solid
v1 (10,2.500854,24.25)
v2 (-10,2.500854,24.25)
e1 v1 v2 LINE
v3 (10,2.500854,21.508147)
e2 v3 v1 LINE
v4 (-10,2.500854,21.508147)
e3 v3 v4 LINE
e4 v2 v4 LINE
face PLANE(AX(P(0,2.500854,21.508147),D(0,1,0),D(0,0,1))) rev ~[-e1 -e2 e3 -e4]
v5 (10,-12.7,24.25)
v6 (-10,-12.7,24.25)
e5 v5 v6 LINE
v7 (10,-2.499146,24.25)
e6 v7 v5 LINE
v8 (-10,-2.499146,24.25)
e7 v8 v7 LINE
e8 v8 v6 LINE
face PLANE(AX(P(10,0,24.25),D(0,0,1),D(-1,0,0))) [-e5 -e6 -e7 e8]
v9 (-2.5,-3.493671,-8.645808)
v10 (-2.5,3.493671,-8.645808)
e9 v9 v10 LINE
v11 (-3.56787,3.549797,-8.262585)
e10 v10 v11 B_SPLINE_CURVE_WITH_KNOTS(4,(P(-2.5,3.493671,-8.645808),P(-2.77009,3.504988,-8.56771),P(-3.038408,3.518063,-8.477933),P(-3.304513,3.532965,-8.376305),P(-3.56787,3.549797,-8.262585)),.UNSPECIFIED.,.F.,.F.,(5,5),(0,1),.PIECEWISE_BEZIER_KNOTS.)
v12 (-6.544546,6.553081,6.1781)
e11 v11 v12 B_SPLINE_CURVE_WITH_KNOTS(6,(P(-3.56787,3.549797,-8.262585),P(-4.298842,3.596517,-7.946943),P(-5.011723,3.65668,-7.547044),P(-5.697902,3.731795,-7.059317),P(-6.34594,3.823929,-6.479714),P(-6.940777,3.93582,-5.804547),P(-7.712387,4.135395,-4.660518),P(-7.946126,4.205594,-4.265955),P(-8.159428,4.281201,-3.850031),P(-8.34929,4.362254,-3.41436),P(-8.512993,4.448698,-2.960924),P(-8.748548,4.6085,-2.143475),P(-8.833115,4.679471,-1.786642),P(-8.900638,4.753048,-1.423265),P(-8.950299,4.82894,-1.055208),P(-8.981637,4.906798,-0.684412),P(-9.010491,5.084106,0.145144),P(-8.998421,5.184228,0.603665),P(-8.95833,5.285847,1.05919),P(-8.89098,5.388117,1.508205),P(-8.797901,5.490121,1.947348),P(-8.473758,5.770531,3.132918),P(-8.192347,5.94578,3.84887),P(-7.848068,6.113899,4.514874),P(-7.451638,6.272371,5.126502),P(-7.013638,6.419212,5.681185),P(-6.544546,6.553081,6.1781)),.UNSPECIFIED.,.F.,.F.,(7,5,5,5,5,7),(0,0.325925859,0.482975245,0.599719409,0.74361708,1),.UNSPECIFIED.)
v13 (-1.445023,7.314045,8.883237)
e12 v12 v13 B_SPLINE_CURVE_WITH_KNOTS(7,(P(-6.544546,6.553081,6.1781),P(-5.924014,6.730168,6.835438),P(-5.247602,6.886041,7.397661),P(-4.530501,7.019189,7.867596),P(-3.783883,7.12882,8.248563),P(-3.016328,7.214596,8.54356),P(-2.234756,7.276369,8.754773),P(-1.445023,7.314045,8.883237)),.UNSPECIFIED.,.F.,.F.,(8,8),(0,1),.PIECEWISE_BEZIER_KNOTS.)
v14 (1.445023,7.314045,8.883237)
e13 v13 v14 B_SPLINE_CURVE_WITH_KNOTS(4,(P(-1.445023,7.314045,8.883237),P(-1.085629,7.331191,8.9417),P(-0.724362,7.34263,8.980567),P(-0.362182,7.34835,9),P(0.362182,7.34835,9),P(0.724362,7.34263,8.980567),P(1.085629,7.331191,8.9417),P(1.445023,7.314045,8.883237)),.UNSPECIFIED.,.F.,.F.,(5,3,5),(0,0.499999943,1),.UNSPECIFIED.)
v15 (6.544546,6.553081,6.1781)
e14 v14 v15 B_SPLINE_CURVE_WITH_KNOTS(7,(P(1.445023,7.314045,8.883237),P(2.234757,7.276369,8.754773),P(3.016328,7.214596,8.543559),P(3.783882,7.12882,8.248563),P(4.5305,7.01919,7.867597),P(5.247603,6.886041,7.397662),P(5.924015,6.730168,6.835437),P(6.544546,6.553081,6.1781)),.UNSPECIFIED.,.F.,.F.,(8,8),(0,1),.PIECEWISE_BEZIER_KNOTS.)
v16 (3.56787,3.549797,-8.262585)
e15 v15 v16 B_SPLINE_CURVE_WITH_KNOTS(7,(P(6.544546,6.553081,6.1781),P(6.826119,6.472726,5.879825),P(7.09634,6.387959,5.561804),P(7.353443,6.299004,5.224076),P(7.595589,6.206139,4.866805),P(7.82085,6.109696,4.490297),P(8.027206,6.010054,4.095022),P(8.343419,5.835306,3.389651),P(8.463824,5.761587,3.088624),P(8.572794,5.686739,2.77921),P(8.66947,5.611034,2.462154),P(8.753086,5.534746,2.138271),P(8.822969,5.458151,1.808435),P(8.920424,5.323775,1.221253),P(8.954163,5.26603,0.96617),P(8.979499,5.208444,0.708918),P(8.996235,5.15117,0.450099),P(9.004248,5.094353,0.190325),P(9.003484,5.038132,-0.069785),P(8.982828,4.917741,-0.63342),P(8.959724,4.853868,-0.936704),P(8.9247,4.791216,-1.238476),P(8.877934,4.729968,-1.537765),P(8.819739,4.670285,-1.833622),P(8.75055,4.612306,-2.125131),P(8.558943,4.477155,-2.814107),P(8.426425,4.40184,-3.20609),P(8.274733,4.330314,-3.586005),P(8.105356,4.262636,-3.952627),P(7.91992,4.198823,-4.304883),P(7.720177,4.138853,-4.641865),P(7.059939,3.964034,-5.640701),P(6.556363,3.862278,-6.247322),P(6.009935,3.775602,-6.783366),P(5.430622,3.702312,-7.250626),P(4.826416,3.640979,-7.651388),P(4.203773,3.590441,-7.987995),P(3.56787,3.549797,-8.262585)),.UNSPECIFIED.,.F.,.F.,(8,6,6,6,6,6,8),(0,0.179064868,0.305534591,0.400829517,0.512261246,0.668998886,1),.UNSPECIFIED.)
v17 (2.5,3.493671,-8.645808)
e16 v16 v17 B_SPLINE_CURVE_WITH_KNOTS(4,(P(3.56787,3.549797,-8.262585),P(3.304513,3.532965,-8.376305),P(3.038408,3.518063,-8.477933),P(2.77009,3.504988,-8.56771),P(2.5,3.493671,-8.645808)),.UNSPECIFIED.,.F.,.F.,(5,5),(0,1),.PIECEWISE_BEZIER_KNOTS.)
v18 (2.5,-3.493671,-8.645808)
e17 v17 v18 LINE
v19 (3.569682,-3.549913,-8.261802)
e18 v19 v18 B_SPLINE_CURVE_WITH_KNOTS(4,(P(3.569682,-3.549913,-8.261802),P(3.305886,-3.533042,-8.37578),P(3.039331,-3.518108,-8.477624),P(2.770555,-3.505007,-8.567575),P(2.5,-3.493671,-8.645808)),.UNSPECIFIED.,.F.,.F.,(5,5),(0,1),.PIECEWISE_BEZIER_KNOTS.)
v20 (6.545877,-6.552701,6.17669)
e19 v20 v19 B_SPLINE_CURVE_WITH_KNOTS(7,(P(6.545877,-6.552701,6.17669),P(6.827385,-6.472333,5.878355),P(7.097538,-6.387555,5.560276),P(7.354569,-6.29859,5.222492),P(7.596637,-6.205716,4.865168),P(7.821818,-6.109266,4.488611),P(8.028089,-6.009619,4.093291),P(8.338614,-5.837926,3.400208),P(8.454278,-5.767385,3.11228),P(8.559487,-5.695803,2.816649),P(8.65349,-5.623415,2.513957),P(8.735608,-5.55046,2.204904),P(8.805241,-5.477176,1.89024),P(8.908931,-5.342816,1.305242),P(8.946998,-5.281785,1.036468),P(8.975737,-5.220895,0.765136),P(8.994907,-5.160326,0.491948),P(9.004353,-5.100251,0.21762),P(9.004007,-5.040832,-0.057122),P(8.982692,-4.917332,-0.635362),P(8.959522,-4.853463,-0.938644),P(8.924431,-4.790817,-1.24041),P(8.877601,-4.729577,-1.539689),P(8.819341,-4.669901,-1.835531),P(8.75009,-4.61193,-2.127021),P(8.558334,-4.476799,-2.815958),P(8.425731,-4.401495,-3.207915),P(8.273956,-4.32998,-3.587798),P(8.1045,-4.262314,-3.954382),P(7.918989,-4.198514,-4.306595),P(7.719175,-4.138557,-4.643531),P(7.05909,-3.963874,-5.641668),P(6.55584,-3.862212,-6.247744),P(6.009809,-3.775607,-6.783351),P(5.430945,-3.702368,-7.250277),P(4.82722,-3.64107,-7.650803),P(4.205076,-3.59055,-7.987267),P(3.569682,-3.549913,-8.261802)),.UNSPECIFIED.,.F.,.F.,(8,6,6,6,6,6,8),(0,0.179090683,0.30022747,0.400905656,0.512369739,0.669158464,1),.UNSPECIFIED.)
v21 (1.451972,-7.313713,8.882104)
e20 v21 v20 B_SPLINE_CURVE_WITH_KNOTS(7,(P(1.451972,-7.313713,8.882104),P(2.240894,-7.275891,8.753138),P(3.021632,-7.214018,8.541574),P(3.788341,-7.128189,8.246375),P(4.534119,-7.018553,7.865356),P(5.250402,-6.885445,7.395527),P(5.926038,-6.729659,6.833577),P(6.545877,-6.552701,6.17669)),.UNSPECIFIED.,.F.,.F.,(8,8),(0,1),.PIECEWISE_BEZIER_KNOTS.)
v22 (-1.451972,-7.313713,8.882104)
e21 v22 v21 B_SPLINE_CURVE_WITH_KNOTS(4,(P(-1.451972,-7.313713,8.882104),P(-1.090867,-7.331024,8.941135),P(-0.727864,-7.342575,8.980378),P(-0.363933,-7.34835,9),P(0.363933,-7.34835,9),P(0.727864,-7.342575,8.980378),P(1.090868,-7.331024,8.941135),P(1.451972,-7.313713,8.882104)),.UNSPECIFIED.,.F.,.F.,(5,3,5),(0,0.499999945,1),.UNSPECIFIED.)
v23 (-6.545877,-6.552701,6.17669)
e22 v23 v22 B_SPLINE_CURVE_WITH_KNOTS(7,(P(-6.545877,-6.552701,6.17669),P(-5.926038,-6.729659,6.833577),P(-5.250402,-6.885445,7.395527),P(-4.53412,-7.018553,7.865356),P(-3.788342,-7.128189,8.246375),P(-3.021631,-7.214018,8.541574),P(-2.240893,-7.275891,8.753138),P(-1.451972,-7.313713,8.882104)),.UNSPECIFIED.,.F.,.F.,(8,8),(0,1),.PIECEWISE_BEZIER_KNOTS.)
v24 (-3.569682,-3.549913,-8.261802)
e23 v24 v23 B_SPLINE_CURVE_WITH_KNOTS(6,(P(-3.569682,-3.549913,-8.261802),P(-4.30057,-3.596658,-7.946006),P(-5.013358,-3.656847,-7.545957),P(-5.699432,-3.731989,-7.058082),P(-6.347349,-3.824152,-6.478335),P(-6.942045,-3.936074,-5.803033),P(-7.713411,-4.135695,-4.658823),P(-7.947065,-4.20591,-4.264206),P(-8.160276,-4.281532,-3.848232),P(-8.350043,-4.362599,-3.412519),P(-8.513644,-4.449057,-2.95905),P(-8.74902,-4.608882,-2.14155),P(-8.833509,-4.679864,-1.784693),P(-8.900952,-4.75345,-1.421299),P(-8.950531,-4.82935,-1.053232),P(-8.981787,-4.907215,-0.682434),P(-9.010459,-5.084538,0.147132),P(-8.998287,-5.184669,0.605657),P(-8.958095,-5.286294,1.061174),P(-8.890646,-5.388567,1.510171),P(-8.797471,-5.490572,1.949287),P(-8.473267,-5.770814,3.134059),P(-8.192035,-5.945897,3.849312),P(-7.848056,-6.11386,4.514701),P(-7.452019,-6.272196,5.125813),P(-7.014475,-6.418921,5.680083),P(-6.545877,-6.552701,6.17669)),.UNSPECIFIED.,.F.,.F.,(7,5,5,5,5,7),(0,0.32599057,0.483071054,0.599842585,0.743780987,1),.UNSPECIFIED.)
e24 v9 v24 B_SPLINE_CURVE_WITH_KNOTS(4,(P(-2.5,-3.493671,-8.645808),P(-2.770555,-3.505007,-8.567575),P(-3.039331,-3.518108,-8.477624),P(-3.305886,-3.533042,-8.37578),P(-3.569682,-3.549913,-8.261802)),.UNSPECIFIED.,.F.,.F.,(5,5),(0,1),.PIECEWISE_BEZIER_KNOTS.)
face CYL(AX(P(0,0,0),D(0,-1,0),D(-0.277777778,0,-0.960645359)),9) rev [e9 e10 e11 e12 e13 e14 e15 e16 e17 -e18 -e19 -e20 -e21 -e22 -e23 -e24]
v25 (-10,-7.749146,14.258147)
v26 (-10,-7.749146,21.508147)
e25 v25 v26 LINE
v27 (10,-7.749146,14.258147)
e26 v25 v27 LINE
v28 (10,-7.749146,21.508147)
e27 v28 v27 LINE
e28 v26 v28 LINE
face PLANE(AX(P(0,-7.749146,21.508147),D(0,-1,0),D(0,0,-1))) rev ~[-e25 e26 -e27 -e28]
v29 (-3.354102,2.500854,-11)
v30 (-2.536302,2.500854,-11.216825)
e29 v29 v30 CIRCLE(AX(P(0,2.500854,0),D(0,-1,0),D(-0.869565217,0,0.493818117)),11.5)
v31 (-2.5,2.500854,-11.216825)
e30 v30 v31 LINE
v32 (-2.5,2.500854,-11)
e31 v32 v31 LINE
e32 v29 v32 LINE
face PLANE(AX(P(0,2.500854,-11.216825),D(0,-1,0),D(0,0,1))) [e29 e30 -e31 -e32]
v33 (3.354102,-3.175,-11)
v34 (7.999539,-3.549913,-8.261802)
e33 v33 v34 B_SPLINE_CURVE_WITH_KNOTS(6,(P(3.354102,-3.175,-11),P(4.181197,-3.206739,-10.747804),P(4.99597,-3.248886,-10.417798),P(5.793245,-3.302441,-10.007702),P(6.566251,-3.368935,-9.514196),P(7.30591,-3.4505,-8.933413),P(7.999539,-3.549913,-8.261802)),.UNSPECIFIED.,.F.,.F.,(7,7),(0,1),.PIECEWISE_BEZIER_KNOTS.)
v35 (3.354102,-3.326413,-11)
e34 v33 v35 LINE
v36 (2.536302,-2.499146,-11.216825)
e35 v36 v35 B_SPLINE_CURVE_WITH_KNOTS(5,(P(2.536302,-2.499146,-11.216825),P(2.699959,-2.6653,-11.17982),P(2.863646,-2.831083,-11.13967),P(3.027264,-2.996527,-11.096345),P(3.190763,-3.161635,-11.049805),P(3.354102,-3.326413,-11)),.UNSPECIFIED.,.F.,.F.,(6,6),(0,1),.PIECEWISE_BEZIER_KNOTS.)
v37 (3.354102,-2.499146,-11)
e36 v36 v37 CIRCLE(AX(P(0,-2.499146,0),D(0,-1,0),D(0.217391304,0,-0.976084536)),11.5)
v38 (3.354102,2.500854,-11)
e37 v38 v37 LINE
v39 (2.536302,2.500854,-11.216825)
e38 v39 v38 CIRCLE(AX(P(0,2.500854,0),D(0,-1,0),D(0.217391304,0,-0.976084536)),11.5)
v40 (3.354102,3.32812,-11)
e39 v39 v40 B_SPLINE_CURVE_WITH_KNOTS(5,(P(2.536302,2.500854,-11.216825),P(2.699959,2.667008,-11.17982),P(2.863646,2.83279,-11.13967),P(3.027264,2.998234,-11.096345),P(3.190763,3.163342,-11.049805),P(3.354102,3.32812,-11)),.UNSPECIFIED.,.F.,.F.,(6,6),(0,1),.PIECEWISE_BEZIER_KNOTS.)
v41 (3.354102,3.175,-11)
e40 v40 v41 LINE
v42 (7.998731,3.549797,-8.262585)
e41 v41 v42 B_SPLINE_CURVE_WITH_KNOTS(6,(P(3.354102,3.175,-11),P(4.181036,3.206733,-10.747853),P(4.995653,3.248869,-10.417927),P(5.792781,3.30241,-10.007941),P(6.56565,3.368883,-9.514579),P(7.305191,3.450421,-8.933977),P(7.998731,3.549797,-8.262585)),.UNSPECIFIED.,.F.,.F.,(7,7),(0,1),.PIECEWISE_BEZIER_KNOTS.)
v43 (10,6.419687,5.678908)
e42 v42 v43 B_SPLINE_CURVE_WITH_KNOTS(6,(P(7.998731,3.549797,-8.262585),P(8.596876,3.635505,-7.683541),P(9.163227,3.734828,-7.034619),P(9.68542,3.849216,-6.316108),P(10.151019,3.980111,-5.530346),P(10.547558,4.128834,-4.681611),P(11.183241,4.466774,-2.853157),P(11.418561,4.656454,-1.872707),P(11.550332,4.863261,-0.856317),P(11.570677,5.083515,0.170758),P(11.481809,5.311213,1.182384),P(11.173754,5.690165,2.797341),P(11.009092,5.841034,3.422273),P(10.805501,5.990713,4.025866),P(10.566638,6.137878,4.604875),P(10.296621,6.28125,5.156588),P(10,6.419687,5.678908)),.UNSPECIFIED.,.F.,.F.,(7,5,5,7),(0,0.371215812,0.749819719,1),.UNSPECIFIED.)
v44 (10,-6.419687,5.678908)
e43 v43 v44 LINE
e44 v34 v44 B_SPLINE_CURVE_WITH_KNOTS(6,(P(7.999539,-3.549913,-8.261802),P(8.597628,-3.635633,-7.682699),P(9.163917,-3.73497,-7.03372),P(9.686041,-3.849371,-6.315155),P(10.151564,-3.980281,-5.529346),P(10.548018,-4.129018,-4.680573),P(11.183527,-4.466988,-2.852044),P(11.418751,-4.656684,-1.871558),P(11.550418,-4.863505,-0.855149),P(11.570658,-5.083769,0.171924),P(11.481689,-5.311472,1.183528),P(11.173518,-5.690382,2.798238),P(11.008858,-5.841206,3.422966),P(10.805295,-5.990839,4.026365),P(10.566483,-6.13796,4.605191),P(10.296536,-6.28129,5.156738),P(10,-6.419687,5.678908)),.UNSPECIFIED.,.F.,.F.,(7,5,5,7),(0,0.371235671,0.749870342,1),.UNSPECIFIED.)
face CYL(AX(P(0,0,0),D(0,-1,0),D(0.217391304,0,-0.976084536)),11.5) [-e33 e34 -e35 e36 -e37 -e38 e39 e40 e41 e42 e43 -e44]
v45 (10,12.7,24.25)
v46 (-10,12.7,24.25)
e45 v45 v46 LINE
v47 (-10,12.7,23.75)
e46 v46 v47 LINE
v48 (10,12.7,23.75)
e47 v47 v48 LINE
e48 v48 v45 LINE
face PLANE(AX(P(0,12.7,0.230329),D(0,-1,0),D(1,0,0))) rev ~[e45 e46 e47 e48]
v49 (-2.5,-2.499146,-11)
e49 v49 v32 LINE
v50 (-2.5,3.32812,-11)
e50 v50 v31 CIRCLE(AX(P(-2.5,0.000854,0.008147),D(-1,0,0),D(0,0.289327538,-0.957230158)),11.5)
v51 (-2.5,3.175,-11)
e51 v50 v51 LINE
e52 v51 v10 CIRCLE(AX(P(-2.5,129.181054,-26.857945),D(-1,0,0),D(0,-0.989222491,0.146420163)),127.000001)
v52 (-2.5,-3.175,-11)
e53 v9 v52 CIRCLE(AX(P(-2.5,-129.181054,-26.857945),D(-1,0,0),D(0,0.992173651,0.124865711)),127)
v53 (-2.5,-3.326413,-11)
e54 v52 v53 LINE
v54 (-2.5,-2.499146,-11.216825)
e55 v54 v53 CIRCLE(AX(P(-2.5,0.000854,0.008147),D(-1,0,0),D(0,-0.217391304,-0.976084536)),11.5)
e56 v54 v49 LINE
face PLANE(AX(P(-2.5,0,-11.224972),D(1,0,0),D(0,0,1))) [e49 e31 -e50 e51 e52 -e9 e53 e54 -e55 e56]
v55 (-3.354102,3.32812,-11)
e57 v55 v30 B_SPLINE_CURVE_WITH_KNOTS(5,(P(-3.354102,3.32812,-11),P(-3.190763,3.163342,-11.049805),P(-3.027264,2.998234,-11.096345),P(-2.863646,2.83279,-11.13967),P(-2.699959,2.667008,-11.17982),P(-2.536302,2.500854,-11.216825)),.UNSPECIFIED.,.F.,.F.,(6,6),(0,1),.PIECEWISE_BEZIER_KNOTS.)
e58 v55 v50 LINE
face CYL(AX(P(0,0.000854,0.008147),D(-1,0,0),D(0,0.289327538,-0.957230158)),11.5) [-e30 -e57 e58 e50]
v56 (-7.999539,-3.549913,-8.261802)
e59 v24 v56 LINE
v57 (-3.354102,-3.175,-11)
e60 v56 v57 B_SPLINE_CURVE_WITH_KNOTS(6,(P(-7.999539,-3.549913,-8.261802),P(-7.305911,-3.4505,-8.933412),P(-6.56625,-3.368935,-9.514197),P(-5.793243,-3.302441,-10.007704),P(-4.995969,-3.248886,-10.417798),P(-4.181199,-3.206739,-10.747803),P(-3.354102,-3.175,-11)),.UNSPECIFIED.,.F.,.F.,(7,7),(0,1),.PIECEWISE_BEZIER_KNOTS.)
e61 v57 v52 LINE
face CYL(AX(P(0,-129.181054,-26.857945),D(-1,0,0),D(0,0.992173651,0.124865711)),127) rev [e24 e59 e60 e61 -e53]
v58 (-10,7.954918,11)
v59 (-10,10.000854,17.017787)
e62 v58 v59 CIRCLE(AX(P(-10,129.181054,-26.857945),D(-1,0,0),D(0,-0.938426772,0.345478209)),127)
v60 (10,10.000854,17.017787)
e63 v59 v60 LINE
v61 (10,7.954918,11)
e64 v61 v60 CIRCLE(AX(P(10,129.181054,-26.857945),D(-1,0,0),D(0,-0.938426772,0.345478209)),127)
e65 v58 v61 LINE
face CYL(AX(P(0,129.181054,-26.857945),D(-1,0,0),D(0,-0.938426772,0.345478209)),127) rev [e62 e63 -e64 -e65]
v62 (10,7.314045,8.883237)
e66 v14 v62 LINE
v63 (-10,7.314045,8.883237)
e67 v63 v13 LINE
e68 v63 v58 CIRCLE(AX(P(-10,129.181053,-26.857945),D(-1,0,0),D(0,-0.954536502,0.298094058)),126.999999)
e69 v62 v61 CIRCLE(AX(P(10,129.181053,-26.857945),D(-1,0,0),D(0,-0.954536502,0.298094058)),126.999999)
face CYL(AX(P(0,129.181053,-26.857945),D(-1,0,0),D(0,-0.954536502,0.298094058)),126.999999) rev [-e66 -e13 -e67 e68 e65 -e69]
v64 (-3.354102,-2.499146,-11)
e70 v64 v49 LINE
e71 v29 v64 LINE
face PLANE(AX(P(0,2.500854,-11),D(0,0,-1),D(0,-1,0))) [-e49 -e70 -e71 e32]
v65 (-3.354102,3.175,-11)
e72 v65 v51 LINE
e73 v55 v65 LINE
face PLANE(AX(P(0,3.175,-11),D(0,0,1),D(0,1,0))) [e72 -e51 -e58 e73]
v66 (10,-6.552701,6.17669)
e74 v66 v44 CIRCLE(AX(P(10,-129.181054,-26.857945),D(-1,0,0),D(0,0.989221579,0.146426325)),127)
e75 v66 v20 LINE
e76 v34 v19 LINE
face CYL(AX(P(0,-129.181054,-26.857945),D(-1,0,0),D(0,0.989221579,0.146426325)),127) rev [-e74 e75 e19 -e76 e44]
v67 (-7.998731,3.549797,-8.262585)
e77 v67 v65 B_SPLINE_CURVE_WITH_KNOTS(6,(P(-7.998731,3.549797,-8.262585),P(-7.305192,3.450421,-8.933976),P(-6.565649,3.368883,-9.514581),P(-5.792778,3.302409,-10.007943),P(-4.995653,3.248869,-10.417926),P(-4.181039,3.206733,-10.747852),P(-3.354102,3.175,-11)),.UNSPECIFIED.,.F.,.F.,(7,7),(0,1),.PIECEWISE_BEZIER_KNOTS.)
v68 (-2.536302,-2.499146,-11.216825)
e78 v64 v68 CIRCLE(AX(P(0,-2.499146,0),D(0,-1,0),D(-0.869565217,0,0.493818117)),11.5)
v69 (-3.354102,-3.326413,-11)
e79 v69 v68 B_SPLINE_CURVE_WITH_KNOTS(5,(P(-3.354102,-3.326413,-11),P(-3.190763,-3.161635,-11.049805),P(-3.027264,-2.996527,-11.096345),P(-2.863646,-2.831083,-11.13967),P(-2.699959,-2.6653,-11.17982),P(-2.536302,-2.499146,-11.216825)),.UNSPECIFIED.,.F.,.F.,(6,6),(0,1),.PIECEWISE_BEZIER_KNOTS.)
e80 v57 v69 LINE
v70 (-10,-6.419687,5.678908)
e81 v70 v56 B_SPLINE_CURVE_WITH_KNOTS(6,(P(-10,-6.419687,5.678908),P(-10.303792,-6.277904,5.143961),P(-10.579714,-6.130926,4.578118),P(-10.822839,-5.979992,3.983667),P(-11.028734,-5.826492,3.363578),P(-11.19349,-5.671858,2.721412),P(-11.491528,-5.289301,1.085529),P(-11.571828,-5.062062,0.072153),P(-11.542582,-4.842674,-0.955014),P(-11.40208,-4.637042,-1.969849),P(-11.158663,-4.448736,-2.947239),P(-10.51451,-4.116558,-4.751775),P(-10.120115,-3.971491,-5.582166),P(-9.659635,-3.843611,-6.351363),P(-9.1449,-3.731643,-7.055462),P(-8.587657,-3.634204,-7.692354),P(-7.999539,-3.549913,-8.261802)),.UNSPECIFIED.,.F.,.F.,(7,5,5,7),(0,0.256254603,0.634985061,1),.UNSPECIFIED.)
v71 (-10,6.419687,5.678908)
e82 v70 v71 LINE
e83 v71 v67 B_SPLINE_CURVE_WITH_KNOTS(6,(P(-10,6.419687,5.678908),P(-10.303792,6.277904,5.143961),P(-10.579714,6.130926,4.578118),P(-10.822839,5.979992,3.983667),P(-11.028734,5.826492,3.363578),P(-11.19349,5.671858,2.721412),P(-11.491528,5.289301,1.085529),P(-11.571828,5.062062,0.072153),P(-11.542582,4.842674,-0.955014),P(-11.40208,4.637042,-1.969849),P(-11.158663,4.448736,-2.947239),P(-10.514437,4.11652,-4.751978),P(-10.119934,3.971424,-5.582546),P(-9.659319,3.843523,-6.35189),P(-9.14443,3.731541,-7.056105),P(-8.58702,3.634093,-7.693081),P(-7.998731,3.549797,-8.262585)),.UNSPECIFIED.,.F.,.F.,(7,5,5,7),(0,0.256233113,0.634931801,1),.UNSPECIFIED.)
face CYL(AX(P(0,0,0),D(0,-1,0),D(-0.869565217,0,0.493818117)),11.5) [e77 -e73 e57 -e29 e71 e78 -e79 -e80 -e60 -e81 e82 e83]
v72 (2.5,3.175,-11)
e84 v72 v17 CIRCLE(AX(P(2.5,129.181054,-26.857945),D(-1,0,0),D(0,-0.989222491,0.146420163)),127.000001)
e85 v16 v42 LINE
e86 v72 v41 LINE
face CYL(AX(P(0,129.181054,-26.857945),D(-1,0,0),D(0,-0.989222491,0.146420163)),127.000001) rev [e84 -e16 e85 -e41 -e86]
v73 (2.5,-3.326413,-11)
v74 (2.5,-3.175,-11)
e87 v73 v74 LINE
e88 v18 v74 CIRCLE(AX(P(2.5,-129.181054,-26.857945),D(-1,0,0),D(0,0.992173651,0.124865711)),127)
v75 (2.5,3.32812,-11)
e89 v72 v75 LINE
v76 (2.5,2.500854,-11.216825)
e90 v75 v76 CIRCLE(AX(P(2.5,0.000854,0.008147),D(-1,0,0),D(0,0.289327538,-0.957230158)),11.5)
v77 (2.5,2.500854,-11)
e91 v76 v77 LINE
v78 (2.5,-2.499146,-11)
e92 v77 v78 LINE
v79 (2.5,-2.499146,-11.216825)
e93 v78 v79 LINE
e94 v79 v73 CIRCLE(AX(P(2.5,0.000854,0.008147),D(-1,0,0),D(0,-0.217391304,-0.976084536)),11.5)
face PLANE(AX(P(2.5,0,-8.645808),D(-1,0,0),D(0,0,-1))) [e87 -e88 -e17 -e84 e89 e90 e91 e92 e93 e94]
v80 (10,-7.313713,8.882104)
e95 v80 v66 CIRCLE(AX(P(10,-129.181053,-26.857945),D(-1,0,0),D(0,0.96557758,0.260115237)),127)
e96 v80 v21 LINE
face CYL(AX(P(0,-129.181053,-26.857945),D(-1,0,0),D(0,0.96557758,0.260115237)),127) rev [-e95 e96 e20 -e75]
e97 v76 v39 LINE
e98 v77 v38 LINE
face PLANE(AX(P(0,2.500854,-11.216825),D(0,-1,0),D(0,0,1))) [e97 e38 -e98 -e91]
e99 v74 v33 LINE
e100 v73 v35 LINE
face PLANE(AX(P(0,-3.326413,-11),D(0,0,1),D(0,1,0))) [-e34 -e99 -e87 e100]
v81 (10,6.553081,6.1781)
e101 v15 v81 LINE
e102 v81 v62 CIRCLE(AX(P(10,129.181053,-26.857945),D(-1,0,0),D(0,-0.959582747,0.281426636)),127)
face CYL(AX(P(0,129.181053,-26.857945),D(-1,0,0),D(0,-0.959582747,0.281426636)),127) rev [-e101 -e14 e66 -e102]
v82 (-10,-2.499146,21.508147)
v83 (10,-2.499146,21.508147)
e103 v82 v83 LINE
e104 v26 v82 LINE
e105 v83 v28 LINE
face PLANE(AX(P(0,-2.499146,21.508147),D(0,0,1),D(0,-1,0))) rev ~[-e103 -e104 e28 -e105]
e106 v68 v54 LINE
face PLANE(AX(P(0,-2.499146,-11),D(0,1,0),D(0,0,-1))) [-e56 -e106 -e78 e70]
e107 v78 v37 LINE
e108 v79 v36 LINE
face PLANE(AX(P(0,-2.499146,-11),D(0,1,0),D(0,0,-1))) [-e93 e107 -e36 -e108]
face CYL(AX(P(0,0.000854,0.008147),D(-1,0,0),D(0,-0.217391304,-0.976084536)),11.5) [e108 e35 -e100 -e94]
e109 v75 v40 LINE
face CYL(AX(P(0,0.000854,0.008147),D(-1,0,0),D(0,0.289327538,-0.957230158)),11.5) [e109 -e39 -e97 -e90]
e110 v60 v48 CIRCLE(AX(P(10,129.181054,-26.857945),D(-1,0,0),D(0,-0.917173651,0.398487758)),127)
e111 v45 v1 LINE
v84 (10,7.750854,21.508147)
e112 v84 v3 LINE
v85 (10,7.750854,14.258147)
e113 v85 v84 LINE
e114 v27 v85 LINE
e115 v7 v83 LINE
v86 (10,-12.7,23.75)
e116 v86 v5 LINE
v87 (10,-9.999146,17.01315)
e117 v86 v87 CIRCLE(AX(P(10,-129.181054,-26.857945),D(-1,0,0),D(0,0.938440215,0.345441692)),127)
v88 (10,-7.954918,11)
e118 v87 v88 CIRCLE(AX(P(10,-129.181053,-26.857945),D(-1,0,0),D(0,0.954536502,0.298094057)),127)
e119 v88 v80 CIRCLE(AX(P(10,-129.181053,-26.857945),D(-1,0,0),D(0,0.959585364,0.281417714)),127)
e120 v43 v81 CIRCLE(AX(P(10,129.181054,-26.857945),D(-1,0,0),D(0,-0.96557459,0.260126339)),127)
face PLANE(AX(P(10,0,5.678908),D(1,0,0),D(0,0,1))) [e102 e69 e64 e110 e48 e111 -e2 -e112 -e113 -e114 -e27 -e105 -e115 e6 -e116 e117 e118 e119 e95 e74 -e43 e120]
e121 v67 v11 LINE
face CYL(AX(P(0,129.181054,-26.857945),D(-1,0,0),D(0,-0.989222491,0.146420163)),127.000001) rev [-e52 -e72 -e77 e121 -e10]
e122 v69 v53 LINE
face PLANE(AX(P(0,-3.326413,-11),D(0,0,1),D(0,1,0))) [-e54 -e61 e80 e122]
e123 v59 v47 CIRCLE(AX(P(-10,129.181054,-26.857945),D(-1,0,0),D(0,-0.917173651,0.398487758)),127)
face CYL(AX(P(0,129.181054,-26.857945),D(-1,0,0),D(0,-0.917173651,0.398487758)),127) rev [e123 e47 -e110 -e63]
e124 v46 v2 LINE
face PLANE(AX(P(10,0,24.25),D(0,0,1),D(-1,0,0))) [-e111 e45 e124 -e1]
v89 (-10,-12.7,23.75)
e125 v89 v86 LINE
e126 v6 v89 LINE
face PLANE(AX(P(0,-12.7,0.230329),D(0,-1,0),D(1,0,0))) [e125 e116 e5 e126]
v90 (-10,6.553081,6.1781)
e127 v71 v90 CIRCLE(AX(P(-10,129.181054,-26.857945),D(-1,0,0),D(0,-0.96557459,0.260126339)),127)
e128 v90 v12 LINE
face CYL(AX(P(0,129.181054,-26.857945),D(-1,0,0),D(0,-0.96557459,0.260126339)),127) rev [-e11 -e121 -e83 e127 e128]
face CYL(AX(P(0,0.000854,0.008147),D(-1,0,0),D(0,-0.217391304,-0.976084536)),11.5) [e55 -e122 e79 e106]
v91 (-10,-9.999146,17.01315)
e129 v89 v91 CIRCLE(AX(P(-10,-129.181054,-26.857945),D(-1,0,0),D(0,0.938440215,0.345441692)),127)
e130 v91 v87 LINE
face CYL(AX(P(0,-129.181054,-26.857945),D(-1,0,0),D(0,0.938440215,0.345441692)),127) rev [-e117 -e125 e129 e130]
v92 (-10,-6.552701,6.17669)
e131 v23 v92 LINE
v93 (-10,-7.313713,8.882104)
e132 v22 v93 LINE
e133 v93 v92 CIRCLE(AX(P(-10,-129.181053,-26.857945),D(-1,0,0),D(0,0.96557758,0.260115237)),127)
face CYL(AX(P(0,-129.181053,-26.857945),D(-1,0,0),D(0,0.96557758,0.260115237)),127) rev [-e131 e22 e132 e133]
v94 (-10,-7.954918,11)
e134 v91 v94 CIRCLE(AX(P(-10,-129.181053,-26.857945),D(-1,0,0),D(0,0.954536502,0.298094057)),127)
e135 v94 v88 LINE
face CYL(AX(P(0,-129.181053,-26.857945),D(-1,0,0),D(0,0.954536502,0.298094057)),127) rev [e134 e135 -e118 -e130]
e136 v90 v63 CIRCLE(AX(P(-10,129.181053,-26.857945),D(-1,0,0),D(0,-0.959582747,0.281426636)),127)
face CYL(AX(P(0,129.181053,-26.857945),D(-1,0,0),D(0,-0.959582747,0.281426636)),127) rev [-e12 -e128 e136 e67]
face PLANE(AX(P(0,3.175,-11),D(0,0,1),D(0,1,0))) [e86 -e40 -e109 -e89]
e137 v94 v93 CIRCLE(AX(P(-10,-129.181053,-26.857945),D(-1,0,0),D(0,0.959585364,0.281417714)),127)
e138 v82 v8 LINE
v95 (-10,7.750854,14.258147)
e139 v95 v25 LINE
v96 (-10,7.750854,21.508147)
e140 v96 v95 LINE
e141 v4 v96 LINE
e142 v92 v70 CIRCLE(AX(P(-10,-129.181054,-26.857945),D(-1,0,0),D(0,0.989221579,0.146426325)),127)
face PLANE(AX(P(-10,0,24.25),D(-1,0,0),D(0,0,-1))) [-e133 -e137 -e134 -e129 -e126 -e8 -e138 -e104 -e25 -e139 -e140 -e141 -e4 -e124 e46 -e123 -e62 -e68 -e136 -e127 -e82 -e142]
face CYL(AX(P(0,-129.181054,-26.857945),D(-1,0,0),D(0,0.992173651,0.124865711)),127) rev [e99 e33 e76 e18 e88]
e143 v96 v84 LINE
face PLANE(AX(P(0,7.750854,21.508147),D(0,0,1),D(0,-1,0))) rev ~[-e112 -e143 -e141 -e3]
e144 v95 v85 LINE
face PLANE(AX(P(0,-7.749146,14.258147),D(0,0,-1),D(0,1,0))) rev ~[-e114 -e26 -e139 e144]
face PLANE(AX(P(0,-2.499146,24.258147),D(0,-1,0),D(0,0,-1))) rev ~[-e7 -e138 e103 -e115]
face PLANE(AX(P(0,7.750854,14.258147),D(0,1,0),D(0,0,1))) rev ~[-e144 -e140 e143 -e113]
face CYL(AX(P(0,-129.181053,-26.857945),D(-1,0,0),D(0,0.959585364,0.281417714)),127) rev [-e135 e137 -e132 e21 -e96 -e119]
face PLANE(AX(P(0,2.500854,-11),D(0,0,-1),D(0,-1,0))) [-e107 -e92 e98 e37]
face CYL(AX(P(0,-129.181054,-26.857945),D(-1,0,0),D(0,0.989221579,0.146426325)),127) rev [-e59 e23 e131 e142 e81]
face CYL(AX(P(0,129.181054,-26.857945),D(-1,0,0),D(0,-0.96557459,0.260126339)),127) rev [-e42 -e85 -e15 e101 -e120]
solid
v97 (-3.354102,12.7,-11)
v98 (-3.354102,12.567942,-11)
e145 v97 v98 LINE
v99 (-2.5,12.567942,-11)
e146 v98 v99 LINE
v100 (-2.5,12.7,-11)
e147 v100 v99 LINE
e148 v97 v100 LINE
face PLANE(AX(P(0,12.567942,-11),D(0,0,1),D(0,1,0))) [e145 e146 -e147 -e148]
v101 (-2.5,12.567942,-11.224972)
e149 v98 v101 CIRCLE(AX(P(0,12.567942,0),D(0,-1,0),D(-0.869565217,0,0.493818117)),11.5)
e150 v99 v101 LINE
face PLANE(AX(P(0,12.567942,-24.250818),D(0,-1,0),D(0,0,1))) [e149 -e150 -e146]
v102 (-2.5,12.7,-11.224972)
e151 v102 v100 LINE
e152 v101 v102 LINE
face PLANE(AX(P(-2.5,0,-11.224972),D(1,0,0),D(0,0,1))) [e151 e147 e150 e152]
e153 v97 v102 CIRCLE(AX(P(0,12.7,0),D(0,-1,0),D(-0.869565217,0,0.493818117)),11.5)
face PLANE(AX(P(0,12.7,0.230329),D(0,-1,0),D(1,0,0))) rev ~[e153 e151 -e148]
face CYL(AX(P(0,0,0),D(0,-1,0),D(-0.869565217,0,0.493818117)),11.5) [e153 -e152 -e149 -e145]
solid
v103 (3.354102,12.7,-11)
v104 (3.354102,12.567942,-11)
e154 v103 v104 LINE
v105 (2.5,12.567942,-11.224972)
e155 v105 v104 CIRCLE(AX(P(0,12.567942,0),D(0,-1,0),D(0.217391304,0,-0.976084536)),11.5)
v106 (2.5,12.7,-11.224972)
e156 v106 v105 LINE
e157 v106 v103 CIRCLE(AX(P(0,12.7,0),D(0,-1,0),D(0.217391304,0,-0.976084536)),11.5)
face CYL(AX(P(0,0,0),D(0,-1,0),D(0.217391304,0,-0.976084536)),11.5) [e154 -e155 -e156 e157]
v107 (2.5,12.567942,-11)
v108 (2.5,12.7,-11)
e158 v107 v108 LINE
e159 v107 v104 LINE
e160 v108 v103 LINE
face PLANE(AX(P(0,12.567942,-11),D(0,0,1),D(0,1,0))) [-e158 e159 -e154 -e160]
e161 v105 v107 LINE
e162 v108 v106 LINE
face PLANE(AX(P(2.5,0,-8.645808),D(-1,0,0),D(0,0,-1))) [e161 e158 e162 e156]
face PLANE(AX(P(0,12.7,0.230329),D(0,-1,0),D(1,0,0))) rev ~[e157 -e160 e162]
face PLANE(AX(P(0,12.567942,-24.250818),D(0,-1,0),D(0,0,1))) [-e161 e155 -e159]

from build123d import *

# Parameters (mm, degrees)
F1_DEPTH = 12.7
F2_W     = 5
F2_H     = 0.5081468204
F3_DEPTH = 12.7


with BuildPart() as f1:
    # F0 (on Front) → F1 (new body, symmetric)
    with BuildSketch(Plane.XZ):
        with BuildLine():
            ThreePointArc((-2.5, -8.6458082329), (0, 9), (2.5, -8.6458082329))
            Line((2.5, -8.6458082329), (2.5, -11.2249721603))
            ThreePointArc((2.5, -11.2249721603), (10.5117930935, -4.6639260241), (10, 5.6789083458))
            ThreePointArc((10, 5.6789083458), (0, 11.5), (-10, 5.6789083458))
            ThreePointArc((-10, 5.6789083458), (-10.5117930935, -4.6639260241), (-2.5, -11.2249721603))
            Line((-2.5, -11.2249721603), (-2.5, -8.6458082329))
        make_face()
        with BuildLine():
            ThreePointArc((-10, 5.6789083458), (0, 11.5), (10, 5.6789083458))
            Line((10, 5.6789083458), (10, 11.5))
            Line((10, 11.5), (10, 24.25))
            Line((10, 24.25), (2.5, 24.25))
            Line((2.5, 24.25), (-2.5, 24.25))
            Line((-2.5, 24.25), (-10, 24.25))
            Line((-10, 24.25), (-10, 11.5))
            Line((-10, 11.5), (-10, 5.6789083458))
        make_face()
    extrude(amount=F1_DEPTH, both=True)

    # F2 (on Right) → F3 (cut, symmetric)
    with BuildSketch(Plane.YZ):
        with BuildLine():
            Line((-12.7, 11), (-9.999146387, 11))
            Line((-9.999146387, 11), (-9.999146387, 11.5081468204))
            Line((-9.999146387, 11.5081468204), (-9.999146387, 17.0131495997))
            ThreePointArc((-9.999146387, 17.0131495997), (-11.3014367737, 20.4008730498), (-12.7, 23.75))
            Line((-12.7, 23.75), (-12.7, 11))
        make_face()
        with Locations((0.000853613, 24.0040734102)):
            Rectangle(F2_W, F2_H)
        with BuildLine():
            Line((10.000853613, 11), (12.7, 11))
            Line((12.7, 11), (12.7, 23.75))
            ThreePointArc((12.7, 23.75), (11.3023562764, 20.4031665386), (10.000853613, 17.0177872374))
            Line((10.000853613, 17.0177872374), (10.000853613, 11.5081468204))
            Line((10.000853613, 11.5081468204), (10.000853613, 11))
        make_face()
        with BuildLine():
            Line((7.9549180029, 11), (10.000853613, 11))
            Line((10.000853613, 11), (10.000853613, 11.5081468204))
            Line((10.000853613, 11.5081468204), (10.000853613, 17.0177872374))
            ThreePointArc((10.000853613, 17.0177872374), (8.9402327942, 14.0216949423), (7.9549180029, 11))
        make_face()
        with BuildLine():
            Line((-9.999146387, 11), (-7.9549180029, 11))
            ThreePointArc((-7.9549180029, 11), (-8.9394374516, 14.0193554966), (-9.999146387, 17.0131495997))
            Line((-9.999146387, 17.0131495997), (-9.999146387, 11.5081468204))
            Line((-9.999146387, 11.5081468204), (-9.999146387, 11))
        make_face()
        with BuildLine():
            ThreePointArc((-7.3137125104, 8.8821043606), (-7.6297024253, 9.9424487424), (-7.9549180029, 11))
            Line((-7.9549180029, 11), (-9.999146387, 11))
            Line((-9.999146387, 11), (-9.999146387, 5.6870551662))
            ThreePointArc((-9.999146387, 5.6870551662), (-8.8025908747, 7.4074282146), (-7.3137125104, 8.8821043606))
        make_face()
        with BuildLine():
            Line((-12.7, 11), (-12.7, -11))
            Line((-12.7, -11), (-3.3264130702, -11))
            ThreePointArc((-3.3264130702, -11), (-10.6770891589, -4.2616937105), (-9.999146387, 5.6870551662))
            Line((-9.999146387, 5.6870551662), (-9.999146387, 11))
            Line((-9.999146387, 11), (-12.7, 11))
        make_face()
        with BuildLine():
            Line((10.000853613, 5.6870551662), (10.000853613, 11))
            Line((10.000853613, 11), (7.9549180029, 11))
            ThreePointArc((7.9549180029, 11), (7.6298735118, 9.9430138349), (7.314044827, 8.8832374829))
            ThreePointArc((7.314044827, 8.8832374829), (8.8037248976, 7.408110141), (10.000853613, 5.6870551662))
        make_face()
        with BuildLine():
            Line((12.7, -11), (12.7, 11))
            Line((12.7, 11), (10.000853613, 11))
            Line((10.000853613, 11), (10.000853613, 5.6870551662))
            ThreePointArc((10.000853613, 5.6870551662), (10.678796385, -4.2616937105), (3.3281202962, -11))
            Line((3.3281202962, -11), (12.5679420307, -11))
            Line((12.5679420307, -11), (12.7, -11))
        make_face()
        with BuildLine():
            ThreePointArc((3.3281202962, -11), (10.678796385, -4.2616937105), (10.000853613, 5.6870551662))
            ThreePointArc((10.000853613, 5.6870551662), (8.8037248976, 7.408110141), (7.314044827, 8.8832374829))
            ThreePointArc((7.314044827, 8.8832374829), (6.9260805224, 7.5327733856), (6.5530808328, 6.1780996938))
            ThreePointArc((6.5530808328, 6.1780996938), (8.8123094834, -1.8244048007), (3.5497974059, -8.2625845835))
            ThreePointArc((3.5497974059, -8.2625845835), (3.3549542371, -9.6302730213), (3.175, -11))
            Line((3.175, -11), (3.3281202962, -11))
        make_face()
        with BuildLine():
            ThreePointArc((3.5497974059, -8.2625845835), (8.8123094834, -1.8244048007), (6.5530808328, 6.1780996938))
            ThreePointArc((6.5530808328, 6.1780996938), (4.8416208698, -0.9986057543), (3.5497974059, -8.2625845835))
        make_face()
        with BuildLine():
            ThreePointArc((-3.5499132309, -8.2618020803), (-4.8415527422, -0.9989333343), (-6.5527010025, 6.1766897522))
            ThreePointArc((-6.5527010025, 6.1766897522), (-8.8106070853, -1.8243815864), (-3.5499132309, -8.2618020803))
        make_face()
        with BuildLine():
            ThreePointArc((-6.5527010025, 6.1766897522), (-6.9257229394, 7.5315021944), (-7.3137125104, 8.8821043606))
            ThreePointArc((-7.3137125104, 8.8821043606), (-8.8025908747, 7.4074282146), (-9.999146387, 5.6870551662))
            ThreePointArc((-9.999146387, 5.6870551662), (-10.6770891589, -4.2616937105), (-3.3264130702, -11))
            Line((-3.3264130702, -11), (-3.175, -11))
            ThreePointArc((-3.175, -11), (-3.3550078896, -9.6298811629), (-3.5499132309, -8.2618020803))
            ThreePointArc((-3.5499132309, -8.2618020803), (-8.8106070853, -1.8243815864), (-6.5527010025, 6.1766897522))
        make_face()
        with BuildLine():
            Line((12.5679420307, -24.2508184165), (12.5679420307, -11))
            Line((12.5679420307, -11), (3.3281202962, -11))
            ThreePointArc((3.3281202962, -11), (2.9165032072, -11.1161053992), (2.500853613, -11.2168253399))
            Line((2.500853613, -11.2168253399), (2.500853613, -11))
            Line((2.500853613, -11), (0, -11))
            Line((0, -11), (-2.499146387, -11))
            Line((-2.499146387, -11), (-2.499146387, -11.2168253399))
            ThreePointArc((-2.499146387, -11.2168253399), (-2.9147959812, -11.1161053992), (-3.3264130702, -11))
            Line((-3.3264130702, -11), (-12.7, -11))
            Line((-12.7, -11), (-12.7, -24.2508184165))
            Line((-12.7, -24.2508184165), (12.5679420307, -24.2508184165))
        make_face()
        Polygon((2.500853613, 21.5081468204), (2.500853613, 23.75), (-2.499146387, 23.75), (-2.499146387, 21.5081468204), (-7.749146387, 21.5081468204), (-7.749146387, 14.2581468204), (7.750853613, 14.2581468204), (7.750853613, 21.5081468204), align=None)
    extrude(amount=F3_DEPTH, both=True, mode=Mode.SUBTRACT)


solid = f1.part
